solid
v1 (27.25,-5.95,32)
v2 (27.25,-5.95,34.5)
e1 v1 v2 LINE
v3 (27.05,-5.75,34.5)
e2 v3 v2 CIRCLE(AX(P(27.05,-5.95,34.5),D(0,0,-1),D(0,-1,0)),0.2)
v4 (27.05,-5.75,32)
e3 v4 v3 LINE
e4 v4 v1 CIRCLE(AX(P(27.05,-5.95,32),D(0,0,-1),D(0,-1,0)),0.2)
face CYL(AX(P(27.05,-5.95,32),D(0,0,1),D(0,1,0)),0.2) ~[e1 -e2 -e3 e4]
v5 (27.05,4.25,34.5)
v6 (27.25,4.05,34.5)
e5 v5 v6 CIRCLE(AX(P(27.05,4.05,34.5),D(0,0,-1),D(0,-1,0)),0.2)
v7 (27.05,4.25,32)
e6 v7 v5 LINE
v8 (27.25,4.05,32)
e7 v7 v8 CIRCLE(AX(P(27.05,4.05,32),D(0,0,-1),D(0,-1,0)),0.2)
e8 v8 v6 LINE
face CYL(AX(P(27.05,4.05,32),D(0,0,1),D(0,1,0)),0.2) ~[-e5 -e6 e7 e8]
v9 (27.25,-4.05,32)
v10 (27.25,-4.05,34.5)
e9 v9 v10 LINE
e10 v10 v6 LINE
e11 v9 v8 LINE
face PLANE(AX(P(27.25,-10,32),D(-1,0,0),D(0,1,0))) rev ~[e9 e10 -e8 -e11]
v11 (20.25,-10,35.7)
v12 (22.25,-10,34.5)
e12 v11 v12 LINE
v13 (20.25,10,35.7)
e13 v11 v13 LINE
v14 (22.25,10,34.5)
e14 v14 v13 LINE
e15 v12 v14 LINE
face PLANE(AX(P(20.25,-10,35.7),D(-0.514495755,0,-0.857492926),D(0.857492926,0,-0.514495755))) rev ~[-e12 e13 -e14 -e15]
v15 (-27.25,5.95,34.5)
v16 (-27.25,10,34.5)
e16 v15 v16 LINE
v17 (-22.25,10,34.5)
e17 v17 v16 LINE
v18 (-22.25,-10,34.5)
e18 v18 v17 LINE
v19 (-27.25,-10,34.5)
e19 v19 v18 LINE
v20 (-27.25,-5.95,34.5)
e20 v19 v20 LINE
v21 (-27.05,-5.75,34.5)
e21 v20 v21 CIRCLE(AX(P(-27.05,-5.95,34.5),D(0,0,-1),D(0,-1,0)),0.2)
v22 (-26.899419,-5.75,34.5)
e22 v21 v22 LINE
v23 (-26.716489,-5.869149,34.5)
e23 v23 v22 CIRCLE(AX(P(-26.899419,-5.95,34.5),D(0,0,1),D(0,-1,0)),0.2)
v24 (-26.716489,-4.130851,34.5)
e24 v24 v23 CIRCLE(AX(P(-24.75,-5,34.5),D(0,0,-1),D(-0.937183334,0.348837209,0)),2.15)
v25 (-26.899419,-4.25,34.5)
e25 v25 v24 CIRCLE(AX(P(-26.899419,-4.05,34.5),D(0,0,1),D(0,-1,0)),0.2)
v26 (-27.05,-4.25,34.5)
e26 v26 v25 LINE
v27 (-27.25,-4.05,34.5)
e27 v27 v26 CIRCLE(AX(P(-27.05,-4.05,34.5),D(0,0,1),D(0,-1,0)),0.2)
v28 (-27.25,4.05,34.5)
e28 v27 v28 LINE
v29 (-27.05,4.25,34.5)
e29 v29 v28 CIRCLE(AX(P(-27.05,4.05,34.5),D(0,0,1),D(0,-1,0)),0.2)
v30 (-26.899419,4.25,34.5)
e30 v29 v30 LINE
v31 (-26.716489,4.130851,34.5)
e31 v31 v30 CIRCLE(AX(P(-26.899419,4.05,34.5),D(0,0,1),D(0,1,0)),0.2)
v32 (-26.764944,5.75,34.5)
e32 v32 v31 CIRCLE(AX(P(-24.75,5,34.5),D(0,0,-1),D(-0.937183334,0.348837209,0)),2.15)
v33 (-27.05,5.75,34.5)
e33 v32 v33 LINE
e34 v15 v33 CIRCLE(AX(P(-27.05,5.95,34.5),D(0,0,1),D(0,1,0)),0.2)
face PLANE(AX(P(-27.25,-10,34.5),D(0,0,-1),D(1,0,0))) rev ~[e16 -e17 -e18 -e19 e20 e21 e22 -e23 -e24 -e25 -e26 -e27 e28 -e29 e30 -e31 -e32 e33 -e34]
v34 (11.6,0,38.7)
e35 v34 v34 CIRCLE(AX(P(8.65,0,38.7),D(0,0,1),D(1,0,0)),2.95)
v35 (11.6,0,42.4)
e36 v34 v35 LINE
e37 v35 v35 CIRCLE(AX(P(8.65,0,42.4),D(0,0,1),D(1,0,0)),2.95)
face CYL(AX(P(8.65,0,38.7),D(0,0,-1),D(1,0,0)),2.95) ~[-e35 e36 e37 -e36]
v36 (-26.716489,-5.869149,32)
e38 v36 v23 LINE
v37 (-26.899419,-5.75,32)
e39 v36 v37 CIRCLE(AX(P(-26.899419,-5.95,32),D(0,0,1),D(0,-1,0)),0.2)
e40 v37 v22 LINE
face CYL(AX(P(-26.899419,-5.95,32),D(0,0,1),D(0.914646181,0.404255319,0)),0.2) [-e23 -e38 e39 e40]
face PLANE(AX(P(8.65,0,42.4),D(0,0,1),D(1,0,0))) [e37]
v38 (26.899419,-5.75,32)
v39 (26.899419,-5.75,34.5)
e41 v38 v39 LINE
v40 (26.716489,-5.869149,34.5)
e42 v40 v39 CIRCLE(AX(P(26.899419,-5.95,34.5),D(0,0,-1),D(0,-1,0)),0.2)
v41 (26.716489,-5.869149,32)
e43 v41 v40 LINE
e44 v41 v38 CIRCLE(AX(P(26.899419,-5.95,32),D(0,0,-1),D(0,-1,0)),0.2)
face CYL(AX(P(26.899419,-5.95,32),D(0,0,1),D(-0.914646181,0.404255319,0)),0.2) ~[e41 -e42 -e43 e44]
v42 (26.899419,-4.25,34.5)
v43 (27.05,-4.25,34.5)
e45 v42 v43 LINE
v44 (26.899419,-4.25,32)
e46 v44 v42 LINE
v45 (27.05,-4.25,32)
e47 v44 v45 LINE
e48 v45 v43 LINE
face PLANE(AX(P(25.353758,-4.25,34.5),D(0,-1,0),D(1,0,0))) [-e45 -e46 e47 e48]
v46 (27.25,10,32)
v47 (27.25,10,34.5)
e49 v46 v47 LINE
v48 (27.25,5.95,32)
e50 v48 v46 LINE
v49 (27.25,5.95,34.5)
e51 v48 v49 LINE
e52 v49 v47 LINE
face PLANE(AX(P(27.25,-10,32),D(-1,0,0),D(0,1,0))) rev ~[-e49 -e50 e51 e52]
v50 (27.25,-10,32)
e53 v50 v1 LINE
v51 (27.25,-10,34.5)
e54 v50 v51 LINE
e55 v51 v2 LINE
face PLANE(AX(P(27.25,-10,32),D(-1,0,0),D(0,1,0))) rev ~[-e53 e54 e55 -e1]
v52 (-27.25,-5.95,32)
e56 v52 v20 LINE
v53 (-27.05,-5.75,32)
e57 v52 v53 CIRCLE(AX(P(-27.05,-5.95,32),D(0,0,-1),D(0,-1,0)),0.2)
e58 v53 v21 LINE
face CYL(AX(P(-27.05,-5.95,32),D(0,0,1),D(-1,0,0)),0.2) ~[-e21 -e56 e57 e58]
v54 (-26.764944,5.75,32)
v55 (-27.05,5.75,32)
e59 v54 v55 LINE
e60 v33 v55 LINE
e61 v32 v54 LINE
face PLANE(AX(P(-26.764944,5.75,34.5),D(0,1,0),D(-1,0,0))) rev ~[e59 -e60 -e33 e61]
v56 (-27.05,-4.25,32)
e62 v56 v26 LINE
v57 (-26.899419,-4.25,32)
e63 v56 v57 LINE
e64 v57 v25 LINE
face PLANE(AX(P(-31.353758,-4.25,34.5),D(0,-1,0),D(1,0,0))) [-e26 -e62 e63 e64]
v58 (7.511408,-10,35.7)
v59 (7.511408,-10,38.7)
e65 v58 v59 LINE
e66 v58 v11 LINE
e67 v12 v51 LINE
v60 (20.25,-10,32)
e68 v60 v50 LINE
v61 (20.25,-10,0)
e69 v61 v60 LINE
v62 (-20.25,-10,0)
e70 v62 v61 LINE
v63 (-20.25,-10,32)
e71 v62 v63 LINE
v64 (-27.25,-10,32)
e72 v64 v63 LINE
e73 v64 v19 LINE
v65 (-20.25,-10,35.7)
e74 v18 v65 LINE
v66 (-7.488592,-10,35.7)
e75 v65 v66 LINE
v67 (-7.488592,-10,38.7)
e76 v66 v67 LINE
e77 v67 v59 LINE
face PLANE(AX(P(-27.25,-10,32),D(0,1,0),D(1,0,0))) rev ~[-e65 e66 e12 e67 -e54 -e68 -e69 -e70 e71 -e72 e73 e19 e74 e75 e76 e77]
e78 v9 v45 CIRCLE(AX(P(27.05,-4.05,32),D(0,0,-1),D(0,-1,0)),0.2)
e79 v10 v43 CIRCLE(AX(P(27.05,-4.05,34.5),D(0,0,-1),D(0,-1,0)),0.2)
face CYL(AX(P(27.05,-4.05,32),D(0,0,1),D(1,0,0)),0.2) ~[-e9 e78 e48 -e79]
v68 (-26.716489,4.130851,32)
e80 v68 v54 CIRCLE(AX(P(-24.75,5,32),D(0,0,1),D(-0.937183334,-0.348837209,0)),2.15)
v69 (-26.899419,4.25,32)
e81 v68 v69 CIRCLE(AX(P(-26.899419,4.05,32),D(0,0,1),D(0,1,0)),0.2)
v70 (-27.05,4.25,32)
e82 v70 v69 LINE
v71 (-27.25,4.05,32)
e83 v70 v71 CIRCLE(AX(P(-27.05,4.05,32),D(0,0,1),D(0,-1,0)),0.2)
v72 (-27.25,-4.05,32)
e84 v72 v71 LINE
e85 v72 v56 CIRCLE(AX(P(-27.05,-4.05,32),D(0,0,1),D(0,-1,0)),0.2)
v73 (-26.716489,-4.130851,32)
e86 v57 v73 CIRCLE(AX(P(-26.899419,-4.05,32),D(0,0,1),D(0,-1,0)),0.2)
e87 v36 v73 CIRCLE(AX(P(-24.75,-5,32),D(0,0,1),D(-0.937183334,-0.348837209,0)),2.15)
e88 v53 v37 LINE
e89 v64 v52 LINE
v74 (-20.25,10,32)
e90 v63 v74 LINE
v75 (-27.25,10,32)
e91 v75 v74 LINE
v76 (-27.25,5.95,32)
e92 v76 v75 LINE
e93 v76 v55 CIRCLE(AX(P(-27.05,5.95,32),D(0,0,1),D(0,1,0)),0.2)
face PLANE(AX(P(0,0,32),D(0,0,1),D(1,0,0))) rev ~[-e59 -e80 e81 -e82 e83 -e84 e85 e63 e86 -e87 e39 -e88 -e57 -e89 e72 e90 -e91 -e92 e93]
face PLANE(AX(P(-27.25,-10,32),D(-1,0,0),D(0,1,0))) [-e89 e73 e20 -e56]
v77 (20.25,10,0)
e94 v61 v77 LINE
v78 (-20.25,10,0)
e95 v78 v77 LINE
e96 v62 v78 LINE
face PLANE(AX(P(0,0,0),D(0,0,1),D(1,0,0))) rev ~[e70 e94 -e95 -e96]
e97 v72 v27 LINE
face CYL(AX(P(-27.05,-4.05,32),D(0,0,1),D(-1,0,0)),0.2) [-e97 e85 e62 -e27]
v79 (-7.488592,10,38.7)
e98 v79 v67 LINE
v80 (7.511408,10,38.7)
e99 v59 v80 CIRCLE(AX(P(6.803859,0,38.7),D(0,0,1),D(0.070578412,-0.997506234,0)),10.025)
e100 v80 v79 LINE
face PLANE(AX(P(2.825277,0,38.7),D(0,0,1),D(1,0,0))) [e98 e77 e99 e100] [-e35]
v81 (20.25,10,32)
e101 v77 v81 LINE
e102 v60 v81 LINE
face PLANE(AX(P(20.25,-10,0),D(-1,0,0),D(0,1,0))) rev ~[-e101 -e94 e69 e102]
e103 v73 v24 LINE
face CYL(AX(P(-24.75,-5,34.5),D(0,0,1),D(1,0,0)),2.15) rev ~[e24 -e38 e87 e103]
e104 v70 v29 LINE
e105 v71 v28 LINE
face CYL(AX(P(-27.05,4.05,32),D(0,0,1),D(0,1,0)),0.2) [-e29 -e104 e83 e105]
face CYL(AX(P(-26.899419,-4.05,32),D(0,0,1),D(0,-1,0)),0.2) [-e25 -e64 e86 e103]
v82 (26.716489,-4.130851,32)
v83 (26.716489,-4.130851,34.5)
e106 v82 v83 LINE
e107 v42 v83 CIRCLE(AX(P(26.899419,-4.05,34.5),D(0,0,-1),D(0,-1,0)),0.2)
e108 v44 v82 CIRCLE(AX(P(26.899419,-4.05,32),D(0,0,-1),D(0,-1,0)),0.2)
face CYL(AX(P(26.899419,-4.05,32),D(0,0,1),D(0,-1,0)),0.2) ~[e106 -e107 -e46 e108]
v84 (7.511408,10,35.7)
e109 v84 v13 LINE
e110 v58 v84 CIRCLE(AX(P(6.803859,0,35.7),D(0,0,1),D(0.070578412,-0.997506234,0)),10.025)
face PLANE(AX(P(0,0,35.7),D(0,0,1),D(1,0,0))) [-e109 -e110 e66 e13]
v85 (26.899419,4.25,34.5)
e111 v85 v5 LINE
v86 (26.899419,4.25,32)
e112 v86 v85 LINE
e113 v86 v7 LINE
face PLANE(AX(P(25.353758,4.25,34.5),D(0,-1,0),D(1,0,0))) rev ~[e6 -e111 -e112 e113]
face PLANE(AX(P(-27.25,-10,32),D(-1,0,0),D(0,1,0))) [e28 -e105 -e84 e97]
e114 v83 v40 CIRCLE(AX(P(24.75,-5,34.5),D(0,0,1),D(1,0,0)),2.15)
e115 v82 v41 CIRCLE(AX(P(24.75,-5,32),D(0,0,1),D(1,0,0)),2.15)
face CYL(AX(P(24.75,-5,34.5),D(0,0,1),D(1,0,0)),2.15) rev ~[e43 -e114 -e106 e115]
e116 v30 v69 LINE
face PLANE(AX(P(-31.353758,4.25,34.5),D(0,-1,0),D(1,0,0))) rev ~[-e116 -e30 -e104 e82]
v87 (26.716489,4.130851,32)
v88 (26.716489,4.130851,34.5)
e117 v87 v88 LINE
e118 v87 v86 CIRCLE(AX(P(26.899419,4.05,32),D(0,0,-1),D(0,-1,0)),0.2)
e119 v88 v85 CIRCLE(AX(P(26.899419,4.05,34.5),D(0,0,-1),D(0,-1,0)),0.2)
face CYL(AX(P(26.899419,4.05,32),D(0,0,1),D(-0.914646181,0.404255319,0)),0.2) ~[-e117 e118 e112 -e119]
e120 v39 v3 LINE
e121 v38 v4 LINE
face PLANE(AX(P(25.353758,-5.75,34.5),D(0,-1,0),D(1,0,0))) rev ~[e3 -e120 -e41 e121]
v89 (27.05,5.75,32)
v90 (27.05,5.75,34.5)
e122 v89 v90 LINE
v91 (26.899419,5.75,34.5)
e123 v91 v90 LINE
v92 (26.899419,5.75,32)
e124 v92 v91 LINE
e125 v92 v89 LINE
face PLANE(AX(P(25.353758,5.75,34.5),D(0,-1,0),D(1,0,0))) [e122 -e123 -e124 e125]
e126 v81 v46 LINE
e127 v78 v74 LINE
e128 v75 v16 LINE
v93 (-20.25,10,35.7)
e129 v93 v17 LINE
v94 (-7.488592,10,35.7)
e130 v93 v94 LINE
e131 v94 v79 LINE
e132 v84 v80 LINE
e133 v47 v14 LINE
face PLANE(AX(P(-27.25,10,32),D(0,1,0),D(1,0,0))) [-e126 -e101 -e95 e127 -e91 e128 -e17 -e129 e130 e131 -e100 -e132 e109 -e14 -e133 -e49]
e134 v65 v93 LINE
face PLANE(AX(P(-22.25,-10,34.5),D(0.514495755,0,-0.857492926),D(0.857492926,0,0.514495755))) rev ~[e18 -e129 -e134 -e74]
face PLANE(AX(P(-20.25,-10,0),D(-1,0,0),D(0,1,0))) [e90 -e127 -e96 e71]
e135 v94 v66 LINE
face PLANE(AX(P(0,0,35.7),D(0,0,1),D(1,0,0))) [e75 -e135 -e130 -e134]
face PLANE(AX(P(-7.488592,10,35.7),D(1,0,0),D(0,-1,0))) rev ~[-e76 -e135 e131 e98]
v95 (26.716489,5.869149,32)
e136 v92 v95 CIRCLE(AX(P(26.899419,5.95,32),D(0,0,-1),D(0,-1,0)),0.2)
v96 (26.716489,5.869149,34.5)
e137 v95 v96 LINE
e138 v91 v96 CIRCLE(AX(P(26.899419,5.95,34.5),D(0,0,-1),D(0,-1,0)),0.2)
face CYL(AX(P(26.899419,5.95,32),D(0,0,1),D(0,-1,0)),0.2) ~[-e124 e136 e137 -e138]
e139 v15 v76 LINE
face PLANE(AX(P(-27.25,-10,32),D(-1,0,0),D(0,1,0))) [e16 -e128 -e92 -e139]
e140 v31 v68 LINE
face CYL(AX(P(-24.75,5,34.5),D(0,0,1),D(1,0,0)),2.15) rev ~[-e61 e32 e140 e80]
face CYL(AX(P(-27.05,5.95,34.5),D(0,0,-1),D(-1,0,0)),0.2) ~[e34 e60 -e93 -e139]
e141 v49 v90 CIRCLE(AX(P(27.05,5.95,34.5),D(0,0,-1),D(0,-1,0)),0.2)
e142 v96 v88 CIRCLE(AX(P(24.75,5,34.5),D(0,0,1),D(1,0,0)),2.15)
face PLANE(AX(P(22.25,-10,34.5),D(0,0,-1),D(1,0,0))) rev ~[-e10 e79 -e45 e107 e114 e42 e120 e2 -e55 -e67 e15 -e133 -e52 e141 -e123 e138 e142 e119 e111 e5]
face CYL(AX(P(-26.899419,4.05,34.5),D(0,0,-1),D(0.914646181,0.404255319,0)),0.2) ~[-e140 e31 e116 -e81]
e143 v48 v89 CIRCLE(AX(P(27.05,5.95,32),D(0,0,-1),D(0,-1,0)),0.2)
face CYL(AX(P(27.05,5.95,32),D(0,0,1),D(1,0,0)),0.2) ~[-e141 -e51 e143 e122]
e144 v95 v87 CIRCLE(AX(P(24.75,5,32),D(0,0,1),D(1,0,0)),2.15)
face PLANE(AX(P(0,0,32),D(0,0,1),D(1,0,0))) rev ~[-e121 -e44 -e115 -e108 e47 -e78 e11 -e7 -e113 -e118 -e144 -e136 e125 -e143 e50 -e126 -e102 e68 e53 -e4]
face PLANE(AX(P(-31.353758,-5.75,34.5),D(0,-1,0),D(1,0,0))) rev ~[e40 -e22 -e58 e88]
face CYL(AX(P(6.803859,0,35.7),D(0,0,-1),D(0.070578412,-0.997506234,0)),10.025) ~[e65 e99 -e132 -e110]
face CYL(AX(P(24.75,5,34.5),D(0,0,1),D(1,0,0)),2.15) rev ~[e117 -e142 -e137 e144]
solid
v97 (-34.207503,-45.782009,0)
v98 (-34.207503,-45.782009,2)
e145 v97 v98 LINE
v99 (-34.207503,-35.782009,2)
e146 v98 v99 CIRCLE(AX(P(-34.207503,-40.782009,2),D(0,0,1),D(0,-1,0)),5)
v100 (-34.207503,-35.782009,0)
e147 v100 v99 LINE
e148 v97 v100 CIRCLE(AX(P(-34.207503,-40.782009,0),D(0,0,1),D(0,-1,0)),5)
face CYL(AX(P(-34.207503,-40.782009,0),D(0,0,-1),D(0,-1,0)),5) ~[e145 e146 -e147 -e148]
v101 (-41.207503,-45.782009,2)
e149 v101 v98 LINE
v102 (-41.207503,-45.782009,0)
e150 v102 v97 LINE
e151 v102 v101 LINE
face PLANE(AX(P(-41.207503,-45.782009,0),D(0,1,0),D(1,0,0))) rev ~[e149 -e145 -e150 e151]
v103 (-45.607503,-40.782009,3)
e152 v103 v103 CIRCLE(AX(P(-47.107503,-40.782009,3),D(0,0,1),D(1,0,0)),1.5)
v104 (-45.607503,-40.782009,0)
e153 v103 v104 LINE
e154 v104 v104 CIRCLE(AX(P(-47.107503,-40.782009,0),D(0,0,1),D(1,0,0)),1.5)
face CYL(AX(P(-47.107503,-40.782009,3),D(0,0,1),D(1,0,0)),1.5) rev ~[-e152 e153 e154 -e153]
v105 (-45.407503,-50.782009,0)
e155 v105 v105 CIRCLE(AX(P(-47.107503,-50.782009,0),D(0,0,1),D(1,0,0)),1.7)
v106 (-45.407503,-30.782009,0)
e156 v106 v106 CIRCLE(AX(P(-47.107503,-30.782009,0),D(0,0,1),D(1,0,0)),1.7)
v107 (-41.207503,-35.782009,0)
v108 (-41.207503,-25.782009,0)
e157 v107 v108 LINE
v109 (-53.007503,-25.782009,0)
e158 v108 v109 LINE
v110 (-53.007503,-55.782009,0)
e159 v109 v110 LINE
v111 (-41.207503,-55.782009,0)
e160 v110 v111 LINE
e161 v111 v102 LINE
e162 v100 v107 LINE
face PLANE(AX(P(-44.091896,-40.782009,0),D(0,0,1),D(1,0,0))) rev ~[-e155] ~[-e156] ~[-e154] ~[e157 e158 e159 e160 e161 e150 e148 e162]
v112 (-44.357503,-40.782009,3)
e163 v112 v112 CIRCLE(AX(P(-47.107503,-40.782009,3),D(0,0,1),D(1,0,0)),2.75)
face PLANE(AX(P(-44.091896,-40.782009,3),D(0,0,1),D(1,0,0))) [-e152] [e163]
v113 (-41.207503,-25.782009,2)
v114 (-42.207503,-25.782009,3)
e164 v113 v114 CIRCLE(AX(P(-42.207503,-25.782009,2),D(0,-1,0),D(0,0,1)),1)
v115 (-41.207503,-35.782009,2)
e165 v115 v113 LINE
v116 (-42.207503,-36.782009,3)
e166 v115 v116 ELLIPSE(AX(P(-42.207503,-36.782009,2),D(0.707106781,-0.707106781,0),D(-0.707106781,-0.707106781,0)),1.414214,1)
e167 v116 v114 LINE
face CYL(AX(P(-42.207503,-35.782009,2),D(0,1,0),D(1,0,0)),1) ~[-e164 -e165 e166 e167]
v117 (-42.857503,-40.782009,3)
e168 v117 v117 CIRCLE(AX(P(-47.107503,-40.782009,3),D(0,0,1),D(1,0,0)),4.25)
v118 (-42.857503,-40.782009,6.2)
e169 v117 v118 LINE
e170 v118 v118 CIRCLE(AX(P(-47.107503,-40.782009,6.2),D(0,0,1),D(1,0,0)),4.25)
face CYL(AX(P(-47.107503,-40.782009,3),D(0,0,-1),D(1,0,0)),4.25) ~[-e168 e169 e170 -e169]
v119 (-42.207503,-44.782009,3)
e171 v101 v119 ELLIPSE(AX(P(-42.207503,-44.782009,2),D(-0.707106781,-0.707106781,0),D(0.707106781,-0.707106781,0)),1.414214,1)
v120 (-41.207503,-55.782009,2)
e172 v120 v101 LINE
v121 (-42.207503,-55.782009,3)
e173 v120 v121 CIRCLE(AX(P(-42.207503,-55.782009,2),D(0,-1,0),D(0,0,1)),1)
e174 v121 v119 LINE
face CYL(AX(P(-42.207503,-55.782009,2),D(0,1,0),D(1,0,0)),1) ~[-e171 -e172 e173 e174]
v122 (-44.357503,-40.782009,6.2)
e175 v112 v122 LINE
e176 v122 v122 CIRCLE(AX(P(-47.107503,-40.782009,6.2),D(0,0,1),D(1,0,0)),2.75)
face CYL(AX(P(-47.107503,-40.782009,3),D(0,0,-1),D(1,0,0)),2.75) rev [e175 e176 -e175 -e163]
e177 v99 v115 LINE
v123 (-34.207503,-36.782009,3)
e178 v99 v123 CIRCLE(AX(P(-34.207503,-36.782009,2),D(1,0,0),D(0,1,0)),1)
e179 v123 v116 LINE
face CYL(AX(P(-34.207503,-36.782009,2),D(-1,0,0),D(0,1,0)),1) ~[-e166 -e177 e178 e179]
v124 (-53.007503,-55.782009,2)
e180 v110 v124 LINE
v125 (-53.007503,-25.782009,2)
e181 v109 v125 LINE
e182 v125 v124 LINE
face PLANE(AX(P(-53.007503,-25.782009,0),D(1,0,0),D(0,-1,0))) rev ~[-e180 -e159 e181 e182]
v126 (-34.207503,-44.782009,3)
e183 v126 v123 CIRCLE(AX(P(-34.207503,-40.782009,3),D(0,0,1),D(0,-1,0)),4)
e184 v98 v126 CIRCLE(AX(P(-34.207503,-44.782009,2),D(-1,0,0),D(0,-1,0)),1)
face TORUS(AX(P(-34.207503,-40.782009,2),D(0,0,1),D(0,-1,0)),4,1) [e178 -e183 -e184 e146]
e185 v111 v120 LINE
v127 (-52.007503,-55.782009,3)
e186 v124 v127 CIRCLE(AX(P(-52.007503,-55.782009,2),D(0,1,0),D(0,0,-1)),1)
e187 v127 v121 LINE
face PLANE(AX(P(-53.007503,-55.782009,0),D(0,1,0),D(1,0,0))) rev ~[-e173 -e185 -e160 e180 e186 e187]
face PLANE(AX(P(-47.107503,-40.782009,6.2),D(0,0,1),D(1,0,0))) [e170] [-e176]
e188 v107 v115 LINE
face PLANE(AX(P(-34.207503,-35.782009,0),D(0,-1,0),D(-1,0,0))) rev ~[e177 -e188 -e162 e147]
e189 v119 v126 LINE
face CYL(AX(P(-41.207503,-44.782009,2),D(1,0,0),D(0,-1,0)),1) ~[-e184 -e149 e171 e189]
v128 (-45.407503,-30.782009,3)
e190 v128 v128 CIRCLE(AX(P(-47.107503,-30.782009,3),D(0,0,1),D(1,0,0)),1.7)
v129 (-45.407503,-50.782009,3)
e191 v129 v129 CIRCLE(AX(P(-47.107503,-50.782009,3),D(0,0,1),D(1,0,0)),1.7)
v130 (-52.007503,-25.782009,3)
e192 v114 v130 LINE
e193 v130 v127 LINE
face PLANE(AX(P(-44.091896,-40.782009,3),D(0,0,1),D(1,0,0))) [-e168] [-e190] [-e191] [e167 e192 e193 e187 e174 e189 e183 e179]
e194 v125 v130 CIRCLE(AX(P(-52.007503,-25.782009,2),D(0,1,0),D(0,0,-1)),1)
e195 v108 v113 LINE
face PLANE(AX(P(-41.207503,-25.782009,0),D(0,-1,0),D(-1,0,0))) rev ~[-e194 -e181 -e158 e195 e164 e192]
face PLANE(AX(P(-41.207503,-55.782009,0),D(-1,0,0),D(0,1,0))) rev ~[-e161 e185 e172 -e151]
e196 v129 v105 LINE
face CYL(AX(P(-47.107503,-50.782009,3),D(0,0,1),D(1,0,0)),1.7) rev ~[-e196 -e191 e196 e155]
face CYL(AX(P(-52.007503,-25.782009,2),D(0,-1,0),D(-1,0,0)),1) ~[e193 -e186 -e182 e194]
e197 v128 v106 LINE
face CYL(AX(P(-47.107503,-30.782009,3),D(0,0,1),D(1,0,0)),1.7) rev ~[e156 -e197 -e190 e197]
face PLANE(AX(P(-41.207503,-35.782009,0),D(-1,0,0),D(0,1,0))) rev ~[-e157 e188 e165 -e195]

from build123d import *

# Parameters (mm, degrees)
F0_W      = 40.5
F0_H      = 20
F1_DEPTH  = 32
F2_W      = 54.5
F2_H      = 20
F3_DEPTH  = 3.7
F5_DEPTH  = 20.001
F6_R      = 2.15
F7_DEPTH  = 34.501
F8_W      = 6
F8_H      = 1.5
F9_DEPTH  = 34.501
F10_R     = 0.2
F11_R     = 0.2
F13_DEPTH = 3
F14_R     = 2.95
F15_DEPTH = 3.7
F17_DEPTH = 3
F18_R     = 1
F19_R     = 4.25
F19_R_2   = 2.75
F20_DEPTH = 3.2
F21_R     = 1.5
F22_DEPTH = 3.001
F23_R     = 1.7
F24_DEPTH = 3.001


with BuildPart() as f1:
    # F0 (on Top) → F1 (new body)
    with BuildSketch(Plane.XY):
        Rectangle(F0_W, F0_H)
    extrude(amount=F1_DEPTH)

    # F2 (on face) → F3 (join)
    with BuildSketch(Plane.XY.offset(32)):
        Rectangle(F2_W, F2_H)
    extrude(amount=F3_DEPTH)

    # F4 (on face) → F5 (cut, through all)
    with BuildSketch(Plane.XZ.offset(10)):
        Polygon((27.25, 35.7), (20.25, 35.7), (22.25, 34.5), (27.25, 34.5), align=None)
        Polygon((-20.25, 35.7), (-27.25, 35.7), (-27.25, 34.5), (-22.25, 34.5), align=None)
    extrude(amount=-F5_DEPTH, mode=Mode.SUBTRACT)

    # F6 (on face) → F7 (cut, through all)
    with BuildSketch(Plane.XY.offset(34.5)):
        with Locations((24.75, 5)):
            Circle(F6_R)
        with Locations((24.75, -5)):
            Circle(F6_R)
        with Locations((-24.75, 5)):
            Circle(F6_R)
        with Locations((-24.75, -5)):
            Circle(F6_R)
    extrude(amount=-F7_DEPTH, mode=Mode.SUBTRACT)

    # F8 (on face) → F9 (cut, through all)
    with BuildSketch(Plane.XY.offset(34.5)):
        with BuildLine():
            Line((-25.3537583657, 5.75), (-25.3537583657, 4.25))
            Line((-25.3537583657, 4.25), (-26.764944168, 4.25))
            ThreePointArc((-26.764944168, 4.25), (-24.3689684797, 2.8840333224), (-22.6, 5))
            ThreePointArc((-22.6, 5), (-24.3689684797, 7.1159666776), (-26.764944168, 5.75))
            Line((-26.764944168, 5.75), (-25.3537583657, 5.75))
        make_face()
        with BuildLine():
            Line((-26.764944168, 4.25), (-25.3537583657, 4.25))
            Line((-25.3537583657, 4.25), (-25.3537583657, 5.75))
            Line((-25.3537583657, 5.75), (-26.764944168, 5.75))
            ThreePointArc((-26.764944168, 5.75), (-26.9, 5), (-26.764944168, 4.25))
        make_face()
        with BuildLine():
            Line((-31.3537583657, 4.25), (-26.764944168, 4.25))
            ThreePointArc((-26.764944168, 4.25), (-26.9, 5), (-26.764944168, 5.75))
            Line((-26.764944168, 5.75), (-31.3537583657, 5.75))
            Line((-31.3537583657, 5.75), (-31.3537583657, 4.25))
        make_face()
        with Locations((-28.3537583657, -5)):
            Rectangle(F8_W, F8_H)
        with Locations((28.3537583657, 5)):
            Rectangle(F8_W, F8_H)
        with Locations((28.3537583657, -5)):
            Rectangle(F8_W, F8_H)
    extrude(amount=-F9_DEPTH, mode=Mode.SUBTRACT)

    # F10
    f10_edges = [f1.edges().sort_by_distance(p)[0] for p in [
        (27.25, 5.75, 33.25),
        (26.764944, 5.75, 33.25),
        (26.764944, 4.25, 33.25),
        (27.25, 4.25, 33.25),
        (27.25, -4.25, 33.25),
        (26.764944, -4.25, 33.25),
        (26.764944, -5.75, 33.25),
        (27.25, -5.75, 33.25),
    ]]
    fillet(f10_edges, radius=F10_R)

    # F11
    f11_edges = [f1.edges().sort_by_distance(p)[0] for p in [
        (-26.764944, 4.25, 33.25),
        (-27.25, 4.25, 33.25),
        (-27.25, -5.75, 33.25),
        (-26.764944, -5.75, 33.25),
        (-27.25, 5.75, 33.25),
        (-27.25, -4.25, 33.25),
        (-26.764944, -4.25, 33.25),
    ]]
    fillet(f11_edges, radius=F11_R)

    # F12 (on face) → F13 (join)
    with BuildSketch(Plane.XY.offset(35.7)):
        with BuildLine():
            ThreePointArc((7.5114076026, -10), (16.8288590177, 0), (7.5114076026, 10))
            Line((7.5114076026, 10), (-7.4885923974, 10))
            Line((-7.4885923974, 10), (-7.4885923974, -10))
            Line((-7.4885923974, -10), (7.5114076026, -10))
        make_face()
    extrude(amount=F13_DEPTH)

    # F14 (on face) → F15 (join)
    with BuildSketch(Plane.XY.offset(38.7)):
        with Locations((8.65, 0)):
            Circle(F14_R)
    extrude(amount=F15_DEPTH)


with BuildPart() as f17:
    # F16 (on Top) → F17 (new body)
    with BuildSketch(Plane.XY):
        with BuildLine():
            Line((-41.2075029179, -25.7820094952), (-53.0075029179, -25.7820094952))
            Line((-53.0075029179, -25.7820094952), (-53.0075029179, -55.7820094952))
            Line((-53.0075029179, -55.7820094952), (-41.2075029179, -55.7820094952))
            Line((-41.2075029179, -55.7820094952), (-41.2075029179, -45.7820094952))
            Line((-41.2075029179, -45.7820094952), (-34.2075029179, -45.7820094952))
            ThreePointArc((-34.2075029179, -45.7820094952), (-29.2075029179, -40.7820094952), (-34.2075029179, -35.7820094952))
            Line((-34.2075029179, -35.7820094952), (-41.2075029179, -35.7820094952))
            Line((-41.2075029179, -35.7820094952), (-41.2075029179, -25.7820094952))
        make_face()
    extrude(amount=F17_DEPTH)

    # F18
    f18_edges = [f17.edges().sort_by_distance(p)[0] for p in [
        (-53.007503, -40.782009, 3),
        (-37.707503, -35.782009, 3),
        (-41.207503, -30.782009, 3),
        (-41.207503, -50.782009, 3),
    ]]
    fillet(f18_edges, radius=F18_R)

    # F19 (on face) → F20 (join)
    with BuildSketch(Plane.XY.offset(3)):
        with Locations((-47.1075029179, -40.7820094952)):
            Circle(F19_R)
        with Locations((-47.1075029179, -40.7820094952)):
            Circle(F19_R_2, mode=Mode.SUBTRACT)
    extrude(amount=F20_DEPTH)

    # F21 (on face) → F22 (cut, through all)
    with BuildSketch(Plane.XY.offset(3)):
        with Locations((-47.1075029179, -40.7820094952)):
            Circle(F21_R)
    extrude(amount=-F22_DEPTH, mode=Mode.SUBTRACT)

    # F23 (on face) → F24 (cut, through all)
    with BuildSketch(Plane.XY.offset(3)):
        with Locations((-47.1075029179, -30.7820094952)):
            Circle(F23_R)
        with Locations((-47.1075029179, -50.7820094952)):
            Circle(F23_R)
    extrude(amount=-F24_DEPTH, mode=Mode.SUBTRACT)


solid = Compound([f1.part, f17.part])
